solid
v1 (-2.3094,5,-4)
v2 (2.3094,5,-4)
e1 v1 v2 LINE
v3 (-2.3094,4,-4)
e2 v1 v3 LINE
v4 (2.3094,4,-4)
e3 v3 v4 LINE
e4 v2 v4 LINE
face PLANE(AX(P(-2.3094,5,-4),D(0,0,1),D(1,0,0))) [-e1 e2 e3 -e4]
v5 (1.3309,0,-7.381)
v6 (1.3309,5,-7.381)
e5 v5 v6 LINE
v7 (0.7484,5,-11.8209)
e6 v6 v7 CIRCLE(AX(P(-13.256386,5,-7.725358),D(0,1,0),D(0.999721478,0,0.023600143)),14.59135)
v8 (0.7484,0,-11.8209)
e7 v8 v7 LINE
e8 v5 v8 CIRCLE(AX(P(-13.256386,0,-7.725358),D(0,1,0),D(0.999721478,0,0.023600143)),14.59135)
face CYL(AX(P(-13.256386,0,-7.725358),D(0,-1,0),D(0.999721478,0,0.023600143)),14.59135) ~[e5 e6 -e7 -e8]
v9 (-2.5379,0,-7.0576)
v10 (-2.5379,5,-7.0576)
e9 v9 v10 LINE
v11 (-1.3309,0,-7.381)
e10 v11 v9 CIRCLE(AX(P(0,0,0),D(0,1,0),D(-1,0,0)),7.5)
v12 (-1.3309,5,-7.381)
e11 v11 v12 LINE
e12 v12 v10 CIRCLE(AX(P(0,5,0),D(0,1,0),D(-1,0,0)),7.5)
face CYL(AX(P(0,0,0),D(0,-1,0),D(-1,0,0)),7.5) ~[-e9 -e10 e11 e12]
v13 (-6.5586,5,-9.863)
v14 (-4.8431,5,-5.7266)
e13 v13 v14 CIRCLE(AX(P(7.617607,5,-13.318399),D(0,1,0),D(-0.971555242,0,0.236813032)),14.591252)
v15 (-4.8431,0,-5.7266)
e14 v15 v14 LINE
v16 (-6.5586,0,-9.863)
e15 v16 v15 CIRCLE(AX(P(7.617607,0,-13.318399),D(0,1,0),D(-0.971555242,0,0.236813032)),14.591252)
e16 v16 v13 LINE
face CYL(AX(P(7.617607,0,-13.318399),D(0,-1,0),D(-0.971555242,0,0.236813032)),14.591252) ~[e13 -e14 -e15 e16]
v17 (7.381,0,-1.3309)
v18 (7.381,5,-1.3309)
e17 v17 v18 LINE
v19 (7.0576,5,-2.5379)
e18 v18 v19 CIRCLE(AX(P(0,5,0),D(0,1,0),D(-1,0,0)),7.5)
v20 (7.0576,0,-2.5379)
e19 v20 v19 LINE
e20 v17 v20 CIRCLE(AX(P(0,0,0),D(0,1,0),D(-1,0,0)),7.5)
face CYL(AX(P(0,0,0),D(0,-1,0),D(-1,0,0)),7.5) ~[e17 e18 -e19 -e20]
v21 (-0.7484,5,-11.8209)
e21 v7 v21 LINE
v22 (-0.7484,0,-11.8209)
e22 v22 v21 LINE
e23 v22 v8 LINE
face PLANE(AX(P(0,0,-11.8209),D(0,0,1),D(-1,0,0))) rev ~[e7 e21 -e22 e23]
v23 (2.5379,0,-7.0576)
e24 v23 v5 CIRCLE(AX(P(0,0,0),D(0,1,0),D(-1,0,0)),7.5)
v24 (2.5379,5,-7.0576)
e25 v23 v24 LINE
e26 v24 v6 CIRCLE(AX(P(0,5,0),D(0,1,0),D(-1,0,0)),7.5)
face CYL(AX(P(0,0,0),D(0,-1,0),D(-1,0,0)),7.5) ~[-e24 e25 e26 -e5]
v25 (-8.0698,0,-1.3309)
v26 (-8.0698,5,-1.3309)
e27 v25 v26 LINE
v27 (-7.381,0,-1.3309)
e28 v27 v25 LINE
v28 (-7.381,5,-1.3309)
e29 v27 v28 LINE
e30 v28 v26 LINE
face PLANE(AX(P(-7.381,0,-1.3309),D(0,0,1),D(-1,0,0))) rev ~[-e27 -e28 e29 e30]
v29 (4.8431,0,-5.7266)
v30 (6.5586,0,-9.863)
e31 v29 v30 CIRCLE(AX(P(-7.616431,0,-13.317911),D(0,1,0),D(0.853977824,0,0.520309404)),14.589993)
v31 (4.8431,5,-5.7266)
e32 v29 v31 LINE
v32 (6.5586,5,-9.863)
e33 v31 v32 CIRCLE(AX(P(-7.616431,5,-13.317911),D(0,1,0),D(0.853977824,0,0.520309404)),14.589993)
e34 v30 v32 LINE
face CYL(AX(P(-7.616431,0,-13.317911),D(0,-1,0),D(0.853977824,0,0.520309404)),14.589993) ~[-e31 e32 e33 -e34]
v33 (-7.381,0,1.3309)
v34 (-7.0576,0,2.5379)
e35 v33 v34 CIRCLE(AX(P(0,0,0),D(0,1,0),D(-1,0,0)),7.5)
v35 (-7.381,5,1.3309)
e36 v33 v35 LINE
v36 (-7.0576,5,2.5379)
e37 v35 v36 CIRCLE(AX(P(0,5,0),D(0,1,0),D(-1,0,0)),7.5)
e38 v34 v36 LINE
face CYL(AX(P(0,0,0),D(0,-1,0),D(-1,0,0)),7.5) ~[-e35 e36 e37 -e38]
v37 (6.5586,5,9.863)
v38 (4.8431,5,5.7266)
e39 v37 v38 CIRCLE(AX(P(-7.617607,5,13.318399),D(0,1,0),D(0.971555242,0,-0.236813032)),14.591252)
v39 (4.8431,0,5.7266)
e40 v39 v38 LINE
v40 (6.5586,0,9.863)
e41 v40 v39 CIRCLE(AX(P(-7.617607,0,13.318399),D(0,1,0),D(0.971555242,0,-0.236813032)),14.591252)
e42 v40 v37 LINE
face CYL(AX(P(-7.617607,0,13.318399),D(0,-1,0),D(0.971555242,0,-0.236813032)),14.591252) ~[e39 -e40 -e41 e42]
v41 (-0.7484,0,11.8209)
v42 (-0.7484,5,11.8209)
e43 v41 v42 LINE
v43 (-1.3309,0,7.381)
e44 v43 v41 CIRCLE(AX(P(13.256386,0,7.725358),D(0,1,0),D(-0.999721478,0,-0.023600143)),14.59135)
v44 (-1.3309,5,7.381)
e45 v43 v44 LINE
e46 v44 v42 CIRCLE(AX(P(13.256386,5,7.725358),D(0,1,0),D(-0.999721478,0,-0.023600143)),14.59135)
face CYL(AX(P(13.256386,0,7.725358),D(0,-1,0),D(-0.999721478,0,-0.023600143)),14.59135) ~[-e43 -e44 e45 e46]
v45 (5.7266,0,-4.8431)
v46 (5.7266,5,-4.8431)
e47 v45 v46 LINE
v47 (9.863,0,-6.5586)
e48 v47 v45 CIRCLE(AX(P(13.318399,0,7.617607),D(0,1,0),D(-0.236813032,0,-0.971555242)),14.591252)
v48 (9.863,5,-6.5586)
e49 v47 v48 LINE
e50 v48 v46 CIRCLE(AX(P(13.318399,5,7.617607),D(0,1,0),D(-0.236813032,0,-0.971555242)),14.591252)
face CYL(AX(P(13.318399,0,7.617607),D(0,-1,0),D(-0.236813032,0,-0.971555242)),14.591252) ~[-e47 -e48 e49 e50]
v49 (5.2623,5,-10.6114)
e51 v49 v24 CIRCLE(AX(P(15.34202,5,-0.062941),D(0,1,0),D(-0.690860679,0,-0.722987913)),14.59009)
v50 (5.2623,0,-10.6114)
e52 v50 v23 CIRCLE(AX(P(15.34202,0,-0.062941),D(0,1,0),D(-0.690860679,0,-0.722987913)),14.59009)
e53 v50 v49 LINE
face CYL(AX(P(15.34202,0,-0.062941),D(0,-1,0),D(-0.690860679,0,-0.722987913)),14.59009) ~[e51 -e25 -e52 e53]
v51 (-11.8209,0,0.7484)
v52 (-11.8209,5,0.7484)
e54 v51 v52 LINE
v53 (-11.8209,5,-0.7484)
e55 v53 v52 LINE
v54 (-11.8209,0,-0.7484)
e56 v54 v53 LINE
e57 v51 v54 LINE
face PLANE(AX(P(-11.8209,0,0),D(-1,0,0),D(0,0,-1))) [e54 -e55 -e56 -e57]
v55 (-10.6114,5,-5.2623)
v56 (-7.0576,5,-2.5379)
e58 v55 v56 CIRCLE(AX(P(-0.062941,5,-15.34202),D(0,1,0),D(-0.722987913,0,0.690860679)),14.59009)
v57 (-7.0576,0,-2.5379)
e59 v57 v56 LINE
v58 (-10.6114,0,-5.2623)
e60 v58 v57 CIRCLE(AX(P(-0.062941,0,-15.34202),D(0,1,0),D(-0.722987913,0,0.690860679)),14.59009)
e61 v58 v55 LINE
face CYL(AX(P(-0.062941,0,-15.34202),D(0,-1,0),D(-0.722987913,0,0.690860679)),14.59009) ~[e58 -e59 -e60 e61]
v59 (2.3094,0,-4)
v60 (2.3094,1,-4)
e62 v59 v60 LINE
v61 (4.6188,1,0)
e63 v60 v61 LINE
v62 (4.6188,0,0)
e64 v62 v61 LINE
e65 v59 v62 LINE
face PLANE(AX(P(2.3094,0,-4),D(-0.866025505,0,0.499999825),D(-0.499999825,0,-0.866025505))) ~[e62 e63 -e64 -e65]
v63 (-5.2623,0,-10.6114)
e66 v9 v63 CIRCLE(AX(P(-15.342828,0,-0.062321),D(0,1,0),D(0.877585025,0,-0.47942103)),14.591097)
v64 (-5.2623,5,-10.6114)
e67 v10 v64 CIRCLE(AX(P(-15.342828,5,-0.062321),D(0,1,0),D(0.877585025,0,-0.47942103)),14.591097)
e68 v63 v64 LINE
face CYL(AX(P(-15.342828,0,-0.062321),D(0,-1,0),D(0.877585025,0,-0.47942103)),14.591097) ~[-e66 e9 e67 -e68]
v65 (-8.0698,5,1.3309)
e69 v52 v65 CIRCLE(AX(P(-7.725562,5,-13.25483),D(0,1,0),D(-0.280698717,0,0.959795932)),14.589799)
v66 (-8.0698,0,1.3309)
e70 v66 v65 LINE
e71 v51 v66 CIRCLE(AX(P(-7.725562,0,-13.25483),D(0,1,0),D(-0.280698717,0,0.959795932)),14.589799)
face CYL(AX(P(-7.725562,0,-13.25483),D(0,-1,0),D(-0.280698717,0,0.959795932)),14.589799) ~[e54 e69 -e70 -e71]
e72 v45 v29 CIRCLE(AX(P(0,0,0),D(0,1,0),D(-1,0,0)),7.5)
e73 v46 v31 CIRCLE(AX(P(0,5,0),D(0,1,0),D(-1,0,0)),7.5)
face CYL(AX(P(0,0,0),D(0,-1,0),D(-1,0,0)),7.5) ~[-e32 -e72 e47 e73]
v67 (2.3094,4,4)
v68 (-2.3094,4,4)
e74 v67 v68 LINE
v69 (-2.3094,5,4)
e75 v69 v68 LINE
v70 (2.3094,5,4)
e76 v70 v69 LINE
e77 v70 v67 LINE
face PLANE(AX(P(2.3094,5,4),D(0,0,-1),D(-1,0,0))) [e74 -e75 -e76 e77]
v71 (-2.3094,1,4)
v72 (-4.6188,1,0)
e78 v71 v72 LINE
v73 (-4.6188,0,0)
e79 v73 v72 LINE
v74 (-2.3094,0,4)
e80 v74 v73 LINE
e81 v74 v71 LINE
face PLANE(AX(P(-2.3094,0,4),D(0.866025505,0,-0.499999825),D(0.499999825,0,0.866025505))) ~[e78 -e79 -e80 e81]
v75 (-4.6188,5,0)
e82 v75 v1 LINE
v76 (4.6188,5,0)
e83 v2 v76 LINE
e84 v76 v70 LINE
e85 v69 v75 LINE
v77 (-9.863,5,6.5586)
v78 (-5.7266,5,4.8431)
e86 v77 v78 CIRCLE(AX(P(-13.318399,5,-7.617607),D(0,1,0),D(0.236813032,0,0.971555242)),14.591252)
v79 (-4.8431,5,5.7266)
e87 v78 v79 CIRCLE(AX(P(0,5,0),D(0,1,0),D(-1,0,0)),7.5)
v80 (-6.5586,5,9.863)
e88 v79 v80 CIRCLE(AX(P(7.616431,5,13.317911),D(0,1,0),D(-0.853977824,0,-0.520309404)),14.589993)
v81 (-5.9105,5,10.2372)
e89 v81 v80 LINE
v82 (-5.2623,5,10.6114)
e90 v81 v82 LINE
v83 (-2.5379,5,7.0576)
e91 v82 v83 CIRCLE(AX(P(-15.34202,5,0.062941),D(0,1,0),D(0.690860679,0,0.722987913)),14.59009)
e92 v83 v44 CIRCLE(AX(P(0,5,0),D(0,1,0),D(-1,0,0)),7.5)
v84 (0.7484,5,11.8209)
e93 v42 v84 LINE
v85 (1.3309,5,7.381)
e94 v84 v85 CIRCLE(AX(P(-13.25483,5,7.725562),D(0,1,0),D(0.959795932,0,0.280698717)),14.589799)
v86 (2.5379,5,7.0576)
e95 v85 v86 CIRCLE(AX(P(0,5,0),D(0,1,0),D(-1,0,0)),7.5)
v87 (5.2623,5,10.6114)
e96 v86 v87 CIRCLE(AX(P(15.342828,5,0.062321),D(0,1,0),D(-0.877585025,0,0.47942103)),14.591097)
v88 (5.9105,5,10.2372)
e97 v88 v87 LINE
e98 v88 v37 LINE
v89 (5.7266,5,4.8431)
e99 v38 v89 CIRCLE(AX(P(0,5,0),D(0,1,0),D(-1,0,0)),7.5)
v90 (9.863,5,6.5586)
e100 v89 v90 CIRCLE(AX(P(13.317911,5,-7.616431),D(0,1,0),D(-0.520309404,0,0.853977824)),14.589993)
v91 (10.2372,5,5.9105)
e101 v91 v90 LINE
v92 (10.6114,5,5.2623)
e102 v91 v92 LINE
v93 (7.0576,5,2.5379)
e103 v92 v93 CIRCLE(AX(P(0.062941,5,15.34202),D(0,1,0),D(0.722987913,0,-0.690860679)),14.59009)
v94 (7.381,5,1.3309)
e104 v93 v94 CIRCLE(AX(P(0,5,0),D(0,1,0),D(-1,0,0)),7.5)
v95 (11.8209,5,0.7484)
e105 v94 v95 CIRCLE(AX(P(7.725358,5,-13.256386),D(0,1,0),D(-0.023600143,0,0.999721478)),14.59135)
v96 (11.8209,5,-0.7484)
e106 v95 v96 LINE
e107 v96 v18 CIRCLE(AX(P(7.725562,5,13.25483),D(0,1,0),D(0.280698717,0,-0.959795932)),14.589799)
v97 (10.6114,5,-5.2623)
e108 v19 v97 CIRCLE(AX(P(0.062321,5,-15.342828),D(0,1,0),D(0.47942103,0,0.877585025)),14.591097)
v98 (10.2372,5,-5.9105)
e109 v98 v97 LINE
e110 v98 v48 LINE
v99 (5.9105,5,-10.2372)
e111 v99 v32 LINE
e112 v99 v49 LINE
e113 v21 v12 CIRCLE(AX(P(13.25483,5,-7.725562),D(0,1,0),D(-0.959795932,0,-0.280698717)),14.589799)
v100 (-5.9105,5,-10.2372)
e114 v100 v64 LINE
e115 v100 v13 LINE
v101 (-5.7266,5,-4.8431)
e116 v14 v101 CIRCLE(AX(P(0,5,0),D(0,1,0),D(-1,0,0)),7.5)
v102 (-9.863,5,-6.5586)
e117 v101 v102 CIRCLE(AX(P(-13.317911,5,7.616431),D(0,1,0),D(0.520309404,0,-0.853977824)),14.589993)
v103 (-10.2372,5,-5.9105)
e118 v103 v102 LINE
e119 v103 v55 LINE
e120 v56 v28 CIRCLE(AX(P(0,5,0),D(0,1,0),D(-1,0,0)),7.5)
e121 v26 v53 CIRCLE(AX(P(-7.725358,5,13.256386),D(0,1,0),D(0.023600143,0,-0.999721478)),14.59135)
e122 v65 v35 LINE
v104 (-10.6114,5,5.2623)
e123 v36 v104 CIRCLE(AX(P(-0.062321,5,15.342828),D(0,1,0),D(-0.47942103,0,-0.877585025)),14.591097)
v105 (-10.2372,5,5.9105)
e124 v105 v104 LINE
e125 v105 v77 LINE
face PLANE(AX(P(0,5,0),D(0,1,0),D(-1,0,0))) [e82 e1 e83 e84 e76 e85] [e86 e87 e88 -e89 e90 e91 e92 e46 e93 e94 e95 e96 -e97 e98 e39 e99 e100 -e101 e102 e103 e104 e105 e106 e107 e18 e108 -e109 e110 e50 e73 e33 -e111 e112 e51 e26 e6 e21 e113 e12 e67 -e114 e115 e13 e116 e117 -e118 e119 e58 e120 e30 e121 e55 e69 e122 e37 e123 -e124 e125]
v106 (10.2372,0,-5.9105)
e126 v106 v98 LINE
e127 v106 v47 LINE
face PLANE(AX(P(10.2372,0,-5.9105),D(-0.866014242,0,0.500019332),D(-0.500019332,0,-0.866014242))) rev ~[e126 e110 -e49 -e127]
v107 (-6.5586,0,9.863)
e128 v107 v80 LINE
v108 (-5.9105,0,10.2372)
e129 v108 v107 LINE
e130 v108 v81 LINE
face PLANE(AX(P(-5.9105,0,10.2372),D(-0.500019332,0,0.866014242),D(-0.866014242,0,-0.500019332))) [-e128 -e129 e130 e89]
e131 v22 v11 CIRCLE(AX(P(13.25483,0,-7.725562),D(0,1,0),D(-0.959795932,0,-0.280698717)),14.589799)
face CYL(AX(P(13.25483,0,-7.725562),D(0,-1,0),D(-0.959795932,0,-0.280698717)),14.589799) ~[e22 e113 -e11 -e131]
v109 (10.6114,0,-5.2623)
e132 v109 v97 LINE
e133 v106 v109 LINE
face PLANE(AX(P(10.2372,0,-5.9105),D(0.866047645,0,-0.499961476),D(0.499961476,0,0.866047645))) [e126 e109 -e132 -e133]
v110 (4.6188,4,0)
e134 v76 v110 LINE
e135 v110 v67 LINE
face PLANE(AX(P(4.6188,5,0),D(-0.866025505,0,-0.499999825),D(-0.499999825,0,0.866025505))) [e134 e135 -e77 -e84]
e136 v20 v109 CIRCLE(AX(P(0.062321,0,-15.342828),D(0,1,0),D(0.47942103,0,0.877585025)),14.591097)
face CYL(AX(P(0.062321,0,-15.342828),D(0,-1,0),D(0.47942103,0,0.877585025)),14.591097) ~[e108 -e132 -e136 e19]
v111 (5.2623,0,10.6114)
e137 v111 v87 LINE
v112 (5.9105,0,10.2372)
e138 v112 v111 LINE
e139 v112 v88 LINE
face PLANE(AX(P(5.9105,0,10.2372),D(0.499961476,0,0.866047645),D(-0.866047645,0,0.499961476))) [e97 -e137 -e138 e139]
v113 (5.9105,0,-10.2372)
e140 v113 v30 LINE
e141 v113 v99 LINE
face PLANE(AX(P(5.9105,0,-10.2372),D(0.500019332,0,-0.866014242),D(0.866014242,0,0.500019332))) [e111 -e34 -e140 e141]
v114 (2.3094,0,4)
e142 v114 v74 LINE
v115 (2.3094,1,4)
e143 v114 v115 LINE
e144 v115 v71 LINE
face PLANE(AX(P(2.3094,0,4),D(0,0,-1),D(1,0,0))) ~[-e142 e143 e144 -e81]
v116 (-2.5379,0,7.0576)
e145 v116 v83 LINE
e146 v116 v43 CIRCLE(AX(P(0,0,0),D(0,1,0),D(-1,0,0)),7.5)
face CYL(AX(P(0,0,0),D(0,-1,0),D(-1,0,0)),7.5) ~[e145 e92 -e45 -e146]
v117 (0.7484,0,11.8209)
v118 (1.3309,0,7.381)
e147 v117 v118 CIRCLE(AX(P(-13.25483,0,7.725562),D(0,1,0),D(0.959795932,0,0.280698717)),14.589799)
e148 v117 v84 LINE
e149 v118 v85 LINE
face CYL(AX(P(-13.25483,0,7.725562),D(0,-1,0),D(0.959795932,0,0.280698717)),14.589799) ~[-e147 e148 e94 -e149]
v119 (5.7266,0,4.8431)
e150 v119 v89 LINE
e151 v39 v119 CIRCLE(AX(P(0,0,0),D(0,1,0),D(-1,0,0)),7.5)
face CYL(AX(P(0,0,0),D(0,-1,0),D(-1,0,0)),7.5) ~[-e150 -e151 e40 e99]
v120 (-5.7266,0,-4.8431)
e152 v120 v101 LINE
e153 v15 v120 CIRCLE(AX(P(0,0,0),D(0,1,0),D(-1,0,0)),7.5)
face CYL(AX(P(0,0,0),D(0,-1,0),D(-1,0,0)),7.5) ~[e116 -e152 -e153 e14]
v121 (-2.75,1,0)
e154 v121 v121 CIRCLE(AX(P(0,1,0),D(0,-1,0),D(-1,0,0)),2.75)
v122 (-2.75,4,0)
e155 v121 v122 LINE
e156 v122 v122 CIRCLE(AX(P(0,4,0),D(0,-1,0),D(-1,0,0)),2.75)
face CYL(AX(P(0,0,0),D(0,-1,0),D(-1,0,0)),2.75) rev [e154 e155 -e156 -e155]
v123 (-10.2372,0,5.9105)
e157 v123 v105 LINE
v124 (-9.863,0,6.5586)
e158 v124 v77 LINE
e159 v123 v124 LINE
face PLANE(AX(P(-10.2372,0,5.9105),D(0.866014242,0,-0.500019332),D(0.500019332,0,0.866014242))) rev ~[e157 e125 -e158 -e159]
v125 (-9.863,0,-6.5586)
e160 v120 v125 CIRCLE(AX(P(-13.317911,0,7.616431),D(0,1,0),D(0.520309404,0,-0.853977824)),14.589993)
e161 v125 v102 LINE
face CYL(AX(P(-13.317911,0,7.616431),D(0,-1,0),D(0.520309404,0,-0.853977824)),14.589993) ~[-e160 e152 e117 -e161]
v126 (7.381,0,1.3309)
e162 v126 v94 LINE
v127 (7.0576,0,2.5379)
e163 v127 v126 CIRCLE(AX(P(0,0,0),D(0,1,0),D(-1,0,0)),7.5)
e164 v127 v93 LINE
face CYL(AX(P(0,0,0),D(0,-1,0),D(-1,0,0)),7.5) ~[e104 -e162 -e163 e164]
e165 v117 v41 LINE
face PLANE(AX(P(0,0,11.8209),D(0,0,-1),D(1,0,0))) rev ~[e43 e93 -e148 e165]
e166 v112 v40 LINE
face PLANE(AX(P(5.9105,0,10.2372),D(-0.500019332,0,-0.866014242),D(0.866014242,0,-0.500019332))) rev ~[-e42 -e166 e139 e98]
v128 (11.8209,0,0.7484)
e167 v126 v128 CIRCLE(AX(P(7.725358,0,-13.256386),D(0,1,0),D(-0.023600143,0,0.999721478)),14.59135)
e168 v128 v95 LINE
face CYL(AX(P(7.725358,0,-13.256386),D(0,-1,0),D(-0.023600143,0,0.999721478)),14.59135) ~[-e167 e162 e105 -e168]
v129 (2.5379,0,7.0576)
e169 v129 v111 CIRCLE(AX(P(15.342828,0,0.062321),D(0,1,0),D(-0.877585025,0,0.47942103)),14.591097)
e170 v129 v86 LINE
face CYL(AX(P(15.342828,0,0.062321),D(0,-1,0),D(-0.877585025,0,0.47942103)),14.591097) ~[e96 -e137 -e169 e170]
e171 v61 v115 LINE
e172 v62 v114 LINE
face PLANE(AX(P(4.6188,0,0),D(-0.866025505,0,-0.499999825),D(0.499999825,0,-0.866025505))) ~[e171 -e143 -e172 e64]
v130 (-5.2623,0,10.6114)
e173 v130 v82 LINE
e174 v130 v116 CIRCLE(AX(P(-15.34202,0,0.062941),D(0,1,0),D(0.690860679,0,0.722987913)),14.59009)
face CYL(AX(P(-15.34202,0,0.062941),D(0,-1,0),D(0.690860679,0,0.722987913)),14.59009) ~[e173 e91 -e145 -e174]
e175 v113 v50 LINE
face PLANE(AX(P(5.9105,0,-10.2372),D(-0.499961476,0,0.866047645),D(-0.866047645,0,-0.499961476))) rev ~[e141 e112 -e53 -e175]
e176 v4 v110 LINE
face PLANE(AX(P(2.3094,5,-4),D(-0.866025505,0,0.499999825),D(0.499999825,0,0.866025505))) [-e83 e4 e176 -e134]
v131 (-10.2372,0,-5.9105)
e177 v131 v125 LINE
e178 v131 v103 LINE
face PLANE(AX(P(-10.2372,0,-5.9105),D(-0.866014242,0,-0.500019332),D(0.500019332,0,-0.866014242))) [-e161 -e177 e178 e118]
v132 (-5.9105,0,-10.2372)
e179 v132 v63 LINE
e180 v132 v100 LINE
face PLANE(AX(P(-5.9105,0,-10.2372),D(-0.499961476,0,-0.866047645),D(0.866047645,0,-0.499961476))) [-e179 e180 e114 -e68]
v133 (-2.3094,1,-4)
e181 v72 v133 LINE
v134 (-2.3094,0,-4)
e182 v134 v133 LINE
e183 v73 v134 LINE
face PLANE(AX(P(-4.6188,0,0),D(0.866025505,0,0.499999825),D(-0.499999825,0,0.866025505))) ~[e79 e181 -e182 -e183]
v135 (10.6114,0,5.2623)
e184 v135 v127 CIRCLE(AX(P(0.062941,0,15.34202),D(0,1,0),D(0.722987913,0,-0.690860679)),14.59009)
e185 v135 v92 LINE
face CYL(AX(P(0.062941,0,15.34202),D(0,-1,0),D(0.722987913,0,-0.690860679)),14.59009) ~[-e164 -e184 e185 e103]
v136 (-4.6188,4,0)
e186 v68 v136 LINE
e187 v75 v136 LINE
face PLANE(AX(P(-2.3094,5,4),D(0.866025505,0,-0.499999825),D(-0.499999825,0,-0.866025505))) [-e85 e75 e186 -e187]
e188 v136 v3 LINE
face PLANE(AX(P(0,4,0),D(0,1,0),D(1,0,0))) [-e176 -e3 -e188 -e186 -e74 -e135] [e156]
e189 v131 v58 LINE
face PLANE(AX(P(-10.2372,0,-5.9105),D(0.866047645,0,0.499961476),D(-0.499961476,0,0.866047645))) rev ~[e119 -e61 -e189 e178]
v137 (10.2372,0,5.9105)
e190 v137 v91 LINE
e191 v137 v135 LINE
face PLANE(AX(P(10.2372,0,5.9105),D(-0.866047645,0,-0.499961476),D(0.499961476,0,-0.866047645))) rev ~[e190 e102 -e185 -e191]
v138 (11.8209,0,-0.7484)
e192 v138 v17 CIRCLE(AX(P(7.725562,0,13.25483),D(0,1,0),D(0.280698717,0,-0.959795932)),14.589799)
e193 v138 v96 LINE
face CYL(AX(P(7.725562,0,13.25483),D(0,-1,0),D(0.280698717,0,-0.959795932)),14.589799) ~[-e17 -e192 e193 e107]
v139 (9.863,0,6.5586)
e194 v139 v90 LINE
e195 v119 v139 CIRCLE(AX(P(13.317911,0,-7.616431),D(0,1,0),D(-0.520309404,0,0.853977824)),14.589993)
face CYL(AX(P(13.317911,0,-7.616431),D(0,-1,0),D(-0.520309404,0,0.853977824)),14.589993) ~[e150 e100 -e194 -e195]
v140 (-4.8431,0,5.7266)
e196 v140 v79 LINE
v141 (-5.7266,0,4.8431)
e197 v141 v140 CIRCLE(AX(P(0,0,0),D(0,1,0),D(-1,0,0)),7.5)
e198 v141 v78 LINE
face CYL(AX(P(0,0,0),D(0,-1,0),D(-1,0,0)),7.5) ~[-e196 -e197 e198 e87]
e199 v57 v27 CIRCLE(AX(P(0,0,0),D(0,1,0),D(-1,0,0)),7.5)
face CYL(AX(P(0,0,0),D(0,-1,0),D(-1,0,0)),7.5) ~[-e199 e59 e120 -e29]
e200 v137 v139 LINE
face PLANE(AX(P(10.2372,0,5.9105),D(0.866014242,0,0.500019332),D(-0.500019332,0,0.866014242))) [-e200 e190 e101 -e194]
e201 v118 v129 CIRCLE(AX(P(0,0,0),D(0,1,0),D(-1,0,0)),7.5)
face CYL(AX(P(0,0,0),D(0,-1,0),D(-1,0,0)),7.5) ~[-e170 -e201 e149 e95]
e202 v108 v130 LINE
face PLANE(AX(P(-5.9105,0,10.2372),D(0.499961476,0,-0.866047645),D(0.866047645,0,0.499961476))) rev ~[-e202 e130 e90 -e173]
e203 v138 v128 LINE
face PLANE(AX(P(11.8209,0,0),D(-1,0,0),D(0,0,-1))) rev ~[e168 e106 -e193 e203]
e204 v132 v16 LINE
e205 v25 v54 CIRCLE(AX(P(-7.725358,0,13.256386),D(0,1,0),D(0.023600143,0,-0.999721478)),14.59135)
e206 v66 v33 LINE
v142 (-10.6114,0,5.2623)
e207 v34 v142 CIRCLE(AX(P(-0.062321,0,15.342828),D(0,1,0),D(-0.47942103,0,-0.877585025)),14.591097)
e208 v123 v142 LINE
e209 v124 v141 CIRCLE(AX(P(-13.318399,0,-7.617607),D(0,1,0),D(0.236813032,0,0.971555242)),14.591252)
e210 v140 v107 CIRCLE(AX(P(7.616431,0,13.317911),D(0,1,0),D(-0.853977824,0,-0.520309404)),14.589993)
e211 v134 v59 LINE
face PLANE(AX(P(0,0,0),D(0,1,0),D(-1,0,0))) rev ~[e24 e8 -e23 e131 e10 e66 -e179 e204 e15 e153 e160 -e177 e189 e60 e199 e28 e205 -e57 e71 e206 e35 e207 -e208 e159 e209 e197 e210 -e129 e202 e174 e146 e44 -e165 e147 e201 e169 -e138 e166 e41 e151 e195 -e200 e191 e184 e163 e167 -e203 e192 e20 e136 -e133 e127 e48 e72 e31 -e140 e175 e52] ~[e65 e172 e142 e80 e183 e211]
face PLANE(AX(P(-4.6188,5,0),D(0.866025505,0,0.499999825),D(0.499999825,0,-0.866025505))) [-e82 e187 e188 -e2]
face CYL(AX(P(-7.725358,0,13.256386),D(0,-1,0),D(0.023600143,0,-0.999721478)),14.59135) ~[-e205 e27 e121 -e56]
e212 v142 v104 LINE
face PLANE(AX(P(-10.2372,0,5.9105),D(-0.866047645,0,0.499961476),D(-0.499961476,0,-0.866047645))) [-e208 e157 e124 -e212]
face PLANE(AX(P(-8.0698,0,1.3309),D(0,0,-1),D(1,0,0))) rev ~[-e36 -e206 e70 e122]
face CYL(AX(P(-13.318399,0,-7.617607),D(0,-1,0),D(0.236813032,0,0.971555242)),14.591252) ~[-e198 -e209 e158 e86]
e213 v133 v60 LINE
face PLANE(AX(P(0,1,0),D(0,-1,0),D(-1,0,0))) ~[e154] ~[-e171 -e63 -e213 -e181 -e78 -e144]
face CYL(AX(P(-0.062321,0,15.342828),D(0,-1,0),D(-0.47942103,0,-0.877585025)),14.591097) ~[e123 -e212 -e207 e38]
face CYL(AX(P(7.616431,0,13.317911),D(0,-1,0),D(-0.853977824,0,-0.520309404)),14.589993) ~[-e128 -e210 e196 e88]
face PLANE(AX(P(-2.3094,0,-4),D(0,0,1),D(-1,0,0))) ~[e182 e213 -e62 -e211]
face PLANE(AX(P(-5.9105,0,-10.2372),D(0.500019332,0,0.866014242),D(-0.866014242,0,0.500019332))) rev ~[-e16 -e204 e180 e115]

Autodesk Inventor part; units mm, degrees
ref_plane "YZ Plane" through (0, 0, 0) normal (1, 0, 0) x (0, 1, 0)
ref_plane "XZ Plane" through (0, 0, 0) normal (0, 1, 0) x (-1, 0, 0)
ref_plane "XY Plane" through (0, 0, 0) normal (0, 0, 1) x (1, 0, 0)
sketch "Sketch1" plane through (0, 0, 0) normal (0, 1, 0) x (-1, 0, 0)
  circle A0 centre (0, 0) radius 7.5
  line L0 (8.0698, 1.3309) -> (7.381, 1.3309)
  line L1 (7.381, -1.3309) -> (8.0698, -1.3309)
  line L2 (12.3774, -0.5735) -> (12.3774, -0.474)
  line L3 (12.3774, 1.3309) -> (7.5, 0) construction
  line L4 (7.5, 0) -> (12.3774, -1.3309) construction
  line L5 (11.8209, 0) -> (11.8209, 0.7484)
  arc A1 (11.8209, 0.7484) -> (7.381, 1.3309) centre (7.7254, -13.2556) ccw
  line L6 (7.5, 0) -> (12.3774, 0)
  line L7 (12.3774, -1.3309) -> (7.5, 0) construction
  line L8 (11.8209, 0) -> (11.8209, -0.7484)
  arc A2 (7.381, -1.3309) -> (11.8209, -0.7484) centre (7.7254, 13.2556) ccw
  arc A3 (5.7266, -4.8431) -> (9.863, -6.5586) centre (13.3182, 7.617) ccw
  arc A4 (10.6114, -5.2623) -> (7.0576, -2.5379) centre (0.0626, -15.3424) ccw
  line L9 (10.2372, -5.9105) -> (10.6114, -5.2623)
  line L10 (10.2372, -5.9105) -> (9.863, -6.5586)
  arc A5 (2.5379, -7.0576) -> (5.2623, -10.6114) centre (15.3424, -0.0626) ccw
  arc A6 (6.5586, -9.863) -> (4.8431, -5.7266) centre (-7.617, -13.3182) ccw
  line L11 (5.9105, -10.2372) -> (6.5586, -9.863)
  line L12 (5.9105, -10.2372) -> (5.2623, -10.6114)
  arc A7 (-1.3309, -7.381) -> (-0.7484, -11.8209) centre (13.2556, -7.7254) ccw
  arc A8 (0.7484, -11.8209) -> (1.3309, -7.381) centre (-13.2556, -7.7254) ccw
  line L13 (0, -11.8209) -> (0.7484, -11.8209)
  line L14 (0, -11.8209) -> (-0.7484, -11.8209)
  arc A9 (-4.8431, -5.7266) -> (-6.5586, -9.863) centre (7.617, -13.3182) ccw
  arc A10 (-5.2623, -10.6114) -> (-2.5379, -7.0576) centre (-15.3424, -0.0626) ccw
  line L15 (-5.9105, -10.2372) -> (-5.2623, -10.6114)
  line L16 (-5.9105, -10.2372) -> (-6.5586, -9.863)
  arc A11 (-7.0576, -2.5379) -> (-10.6114, -5.2623) centre (-0.0626, -15.3424) ccw
  arc A12 (-9.863, -6.5586) -> (-5.7266, -4.8431) centre (-13.3182, 7.617) ccw
  line L17 (-10.2372, -5.9105) -> (-9.863, -6.5586)
  line L18 (-10.2372, -5.9105) -> (-10.6114, -5.2623)
  arc A13 (-7.381, 1.3309) -> (-11.8209, 0.7484) centre (-7.7254, -13.2556) ccw
  arc A14 (-11.8209, -0.7484) -> (-7.381, -1.3309) centre (-7.7254, 13.2556) ccw
  line L19 (-11.8209, 0) -> (-11.8209, -0.7484)
  line L20 (-11.8209, 0) -> (-11.8209, 0.7484)
  arc A15 (-5.7266, 4.8431) -> (-9.863, 6.5586) centre (-13.3182, -7.617) ccw
  arc A16 (-10.6114, 5.2623) -> (-7.0576, 2.5379) centre (-0.0626, 15.3424) ccw
  line L21 (-10.2372, 5.9105) -> (-10.6114, 5.2623)
  line L22 (-10.2372, 5.9105) -> (-9.863, 6.5586)
  arc A17 (-2.5379, 7.0576) -> (-5.2623, 10.6114) centre (-15.3424, 0.0626) ccw
  arc A18 (-6.5586, 9.863) -> (-4.8431, 5.7266) centre (7.617, 13.3182) ccw
  line L23 (-5.9105, 10.2372) -> (-6.5586, 9.863)
  line L24 (-5.9105, 10.2372) -> (-5.2623, 10.6114)
  arc A19 (1.3309, 7.381) -> (0.7484, 11.8209) centre (-13.2556, 7.7254) ccw
  arc A20 (-0.7484, 11.8209) -> (-1.3309, 7.381) centre (13.2556, 7.7254) ccw
  line L25 (0, 11.8209) -> (-0.7484, 11.8209)
  line L26 (0, 11.8209) -> (0.7484, 11.8209)
  arc A21 (4.8431, 5.7266) -> (6.5586, 9.863) centre (-7.617, 13.3182) ccw
  arc A22 (5.2623, 10.6114) -> (2.5379, 7.0576) centre (15.3424, 0.0626) ccw
  line L27 (5.9105, 10.2372) -> (5.2623, 10.6114)
  line L28 (5.9105, 10.2372) -> (6.5586, 9.863)
  arc A23 (7.0576, 2.5379) -> (10.6114, 5.2623) centre (0.0626, 15.3424) ccw
  arc A24 (9.863, 6.5586) -> (5.7266, 4.8431) centre (13.3182, -7.617) ccw
  line L29 (10.2372, 5.9105) -> (9.863, 6.5586)
  line L30 (10.2372, 5.9105) -> (10.6114, 5.2623)
  line L31 (2.6226, -0.9781) -> (2.6226, -1.001)
  line L32 (2.6226, 1.001) -> (2.6226, 0.9781)
  line L33 (2.6226, 0.4136) -> (2.6226, 0.391)
  circle A25 centre (0, 0) radius 2.75
  point P0 (10.4324, -6.6853)
  point P1 (6.3232, -5.1875)
  point P2 (7.6541, -2.8823)
  point P3 (5.692, -11.0058)
  point P4 (2.8823, -7.6541)
  point P5 (5.1875, -6.3232)
  point P6 (-0.5735, -12.3774)
  point P7 (-1.3309, -8.0698)
  point P8 (1.3309, -8.0698)
  point P9 (-6.6853, -10.4324)
  point P10 (-5.1875, -6.3232)
  point P11 (-2.8823, -7.6541)
  point P12 (-11.0058, -5.692)
  point P13 (-7.6541, -2.8823)
  point P14 (-6.3232, -5.1875)
  point P15 (-12.3774, 0.5735)
  point P16 (-8.0698, 1.3309)
  point P17 (-8.0698, -1.3309)
  point P18 (-10.4324, 6.6853)
  point P19 (-6.3232, 5.1875)
  point P20 (-7.6541, 2.8823)
  point P21 (-5.692, 11.0058)
  point P22 (-2.8823, 7.6541)
  point P23 (-5.1875, 6.3232)
  point P24 (0.5735, 12.3774)
  point P25 (1.3309, 8.0698)
  point P26 (-1.3309, 8.0698)
  point P27 (6.6853, 10.4324)
  point P28 (5.1875, 6.3232)
  point P29 (2.8823, 7.6541)
  point P30 (11.0058, 5.692)
  point P31 (7.6541, 2.8823)
  point P32 (6.3232, 5.1875)
  point P33 (7.0576, -2.5379)
  point P34 (7.0576, 2.5379)
  point P35 (5.7266, 4.8431)
  point P36 (4.8431, 5.7266)
  point P37 (2.5379, 7.0576)
  point P38 (1.3309, 7.381)
  point P39 (-1.3309, 7.381)
  point P40 (-2.5379, 7.0576)
  point P41 (-4.8431, 5.7266)
  point P42 (-5.7266, 4.8431)
  point P43 (-7.0576, 2.5379)
  point P44 (-7.381, 1.3309)
  point P45 (-7.381, -1.3309)
  point P46 (-7.0576, -2.5379)
  point P47 (-5.7266, -4.8431)
  point P48 (-4.8431, -5.7266)
  point P49 (-2.5379, -7.0576)
  point P50 (-1.3309, -7.381)
  point P51 (1.3309, -7.381)
  point P52 (2.5379, -7.0576)
  point P53 (4.8431, -5.7266)
  dimension "d0" = 15
  dimension "d3" = 360
  dimension "d5" = 5.5
extrude "Extrusion1" add sketch "Sketch1" along normal blind 5 contours A0 | L6 L8 A2 L1 A0 | A0 L0 A1 L5 L6 | A0 A24 L29 L30 A23 | A4 L9 L10 A3 A0 | A0 A22 L27 L28 A21 | A6 L11 L12 A5 A0 | A0 A20 L25 L26 A19 | A8 L13 L14 A7 A0 | A0 A18 L23 L24 A17 | A10 L15 L16 A9 A0 | A0 A16 L21 L22 A15 | A12 L17 L18 A11 A0 | A0 A14 L19 L20 A13
sketch "Sketch2" plane through (0, 5, 0) normal (0, 1, 0) x (1, 0, 0)
  line L0 (-2.3094, 4) -> (2.3094, 4)
  line L1 (2.3094, 4) -> (4.6188, 0)
  line L2 (4.6188, 0) -> (2.3094, -4)
  line L3 (2.3094, -4) -> (-2.3094, -4)
  line L4 (-2.3094, -4) -> (-4.6188, 0)
  line L5 (-4.6188, 0) -> (-2.3094, 4)
  line L6 (0, 0) -> (-6.3613, 0)
  dimension "d8" = 8
extrude "Extrusion2" cut sketch "Sketch2" against normal blind 1
ref_plane "Work Plane1" through (0, 2.5, 0) normal (0, 1, 0) x (1, 0, 0)
mirror "Mirror1" about plane through (0, 2.5, 0) normal (0, 1, 0) of "Extrusion2"
properties part number "JointFixer"
